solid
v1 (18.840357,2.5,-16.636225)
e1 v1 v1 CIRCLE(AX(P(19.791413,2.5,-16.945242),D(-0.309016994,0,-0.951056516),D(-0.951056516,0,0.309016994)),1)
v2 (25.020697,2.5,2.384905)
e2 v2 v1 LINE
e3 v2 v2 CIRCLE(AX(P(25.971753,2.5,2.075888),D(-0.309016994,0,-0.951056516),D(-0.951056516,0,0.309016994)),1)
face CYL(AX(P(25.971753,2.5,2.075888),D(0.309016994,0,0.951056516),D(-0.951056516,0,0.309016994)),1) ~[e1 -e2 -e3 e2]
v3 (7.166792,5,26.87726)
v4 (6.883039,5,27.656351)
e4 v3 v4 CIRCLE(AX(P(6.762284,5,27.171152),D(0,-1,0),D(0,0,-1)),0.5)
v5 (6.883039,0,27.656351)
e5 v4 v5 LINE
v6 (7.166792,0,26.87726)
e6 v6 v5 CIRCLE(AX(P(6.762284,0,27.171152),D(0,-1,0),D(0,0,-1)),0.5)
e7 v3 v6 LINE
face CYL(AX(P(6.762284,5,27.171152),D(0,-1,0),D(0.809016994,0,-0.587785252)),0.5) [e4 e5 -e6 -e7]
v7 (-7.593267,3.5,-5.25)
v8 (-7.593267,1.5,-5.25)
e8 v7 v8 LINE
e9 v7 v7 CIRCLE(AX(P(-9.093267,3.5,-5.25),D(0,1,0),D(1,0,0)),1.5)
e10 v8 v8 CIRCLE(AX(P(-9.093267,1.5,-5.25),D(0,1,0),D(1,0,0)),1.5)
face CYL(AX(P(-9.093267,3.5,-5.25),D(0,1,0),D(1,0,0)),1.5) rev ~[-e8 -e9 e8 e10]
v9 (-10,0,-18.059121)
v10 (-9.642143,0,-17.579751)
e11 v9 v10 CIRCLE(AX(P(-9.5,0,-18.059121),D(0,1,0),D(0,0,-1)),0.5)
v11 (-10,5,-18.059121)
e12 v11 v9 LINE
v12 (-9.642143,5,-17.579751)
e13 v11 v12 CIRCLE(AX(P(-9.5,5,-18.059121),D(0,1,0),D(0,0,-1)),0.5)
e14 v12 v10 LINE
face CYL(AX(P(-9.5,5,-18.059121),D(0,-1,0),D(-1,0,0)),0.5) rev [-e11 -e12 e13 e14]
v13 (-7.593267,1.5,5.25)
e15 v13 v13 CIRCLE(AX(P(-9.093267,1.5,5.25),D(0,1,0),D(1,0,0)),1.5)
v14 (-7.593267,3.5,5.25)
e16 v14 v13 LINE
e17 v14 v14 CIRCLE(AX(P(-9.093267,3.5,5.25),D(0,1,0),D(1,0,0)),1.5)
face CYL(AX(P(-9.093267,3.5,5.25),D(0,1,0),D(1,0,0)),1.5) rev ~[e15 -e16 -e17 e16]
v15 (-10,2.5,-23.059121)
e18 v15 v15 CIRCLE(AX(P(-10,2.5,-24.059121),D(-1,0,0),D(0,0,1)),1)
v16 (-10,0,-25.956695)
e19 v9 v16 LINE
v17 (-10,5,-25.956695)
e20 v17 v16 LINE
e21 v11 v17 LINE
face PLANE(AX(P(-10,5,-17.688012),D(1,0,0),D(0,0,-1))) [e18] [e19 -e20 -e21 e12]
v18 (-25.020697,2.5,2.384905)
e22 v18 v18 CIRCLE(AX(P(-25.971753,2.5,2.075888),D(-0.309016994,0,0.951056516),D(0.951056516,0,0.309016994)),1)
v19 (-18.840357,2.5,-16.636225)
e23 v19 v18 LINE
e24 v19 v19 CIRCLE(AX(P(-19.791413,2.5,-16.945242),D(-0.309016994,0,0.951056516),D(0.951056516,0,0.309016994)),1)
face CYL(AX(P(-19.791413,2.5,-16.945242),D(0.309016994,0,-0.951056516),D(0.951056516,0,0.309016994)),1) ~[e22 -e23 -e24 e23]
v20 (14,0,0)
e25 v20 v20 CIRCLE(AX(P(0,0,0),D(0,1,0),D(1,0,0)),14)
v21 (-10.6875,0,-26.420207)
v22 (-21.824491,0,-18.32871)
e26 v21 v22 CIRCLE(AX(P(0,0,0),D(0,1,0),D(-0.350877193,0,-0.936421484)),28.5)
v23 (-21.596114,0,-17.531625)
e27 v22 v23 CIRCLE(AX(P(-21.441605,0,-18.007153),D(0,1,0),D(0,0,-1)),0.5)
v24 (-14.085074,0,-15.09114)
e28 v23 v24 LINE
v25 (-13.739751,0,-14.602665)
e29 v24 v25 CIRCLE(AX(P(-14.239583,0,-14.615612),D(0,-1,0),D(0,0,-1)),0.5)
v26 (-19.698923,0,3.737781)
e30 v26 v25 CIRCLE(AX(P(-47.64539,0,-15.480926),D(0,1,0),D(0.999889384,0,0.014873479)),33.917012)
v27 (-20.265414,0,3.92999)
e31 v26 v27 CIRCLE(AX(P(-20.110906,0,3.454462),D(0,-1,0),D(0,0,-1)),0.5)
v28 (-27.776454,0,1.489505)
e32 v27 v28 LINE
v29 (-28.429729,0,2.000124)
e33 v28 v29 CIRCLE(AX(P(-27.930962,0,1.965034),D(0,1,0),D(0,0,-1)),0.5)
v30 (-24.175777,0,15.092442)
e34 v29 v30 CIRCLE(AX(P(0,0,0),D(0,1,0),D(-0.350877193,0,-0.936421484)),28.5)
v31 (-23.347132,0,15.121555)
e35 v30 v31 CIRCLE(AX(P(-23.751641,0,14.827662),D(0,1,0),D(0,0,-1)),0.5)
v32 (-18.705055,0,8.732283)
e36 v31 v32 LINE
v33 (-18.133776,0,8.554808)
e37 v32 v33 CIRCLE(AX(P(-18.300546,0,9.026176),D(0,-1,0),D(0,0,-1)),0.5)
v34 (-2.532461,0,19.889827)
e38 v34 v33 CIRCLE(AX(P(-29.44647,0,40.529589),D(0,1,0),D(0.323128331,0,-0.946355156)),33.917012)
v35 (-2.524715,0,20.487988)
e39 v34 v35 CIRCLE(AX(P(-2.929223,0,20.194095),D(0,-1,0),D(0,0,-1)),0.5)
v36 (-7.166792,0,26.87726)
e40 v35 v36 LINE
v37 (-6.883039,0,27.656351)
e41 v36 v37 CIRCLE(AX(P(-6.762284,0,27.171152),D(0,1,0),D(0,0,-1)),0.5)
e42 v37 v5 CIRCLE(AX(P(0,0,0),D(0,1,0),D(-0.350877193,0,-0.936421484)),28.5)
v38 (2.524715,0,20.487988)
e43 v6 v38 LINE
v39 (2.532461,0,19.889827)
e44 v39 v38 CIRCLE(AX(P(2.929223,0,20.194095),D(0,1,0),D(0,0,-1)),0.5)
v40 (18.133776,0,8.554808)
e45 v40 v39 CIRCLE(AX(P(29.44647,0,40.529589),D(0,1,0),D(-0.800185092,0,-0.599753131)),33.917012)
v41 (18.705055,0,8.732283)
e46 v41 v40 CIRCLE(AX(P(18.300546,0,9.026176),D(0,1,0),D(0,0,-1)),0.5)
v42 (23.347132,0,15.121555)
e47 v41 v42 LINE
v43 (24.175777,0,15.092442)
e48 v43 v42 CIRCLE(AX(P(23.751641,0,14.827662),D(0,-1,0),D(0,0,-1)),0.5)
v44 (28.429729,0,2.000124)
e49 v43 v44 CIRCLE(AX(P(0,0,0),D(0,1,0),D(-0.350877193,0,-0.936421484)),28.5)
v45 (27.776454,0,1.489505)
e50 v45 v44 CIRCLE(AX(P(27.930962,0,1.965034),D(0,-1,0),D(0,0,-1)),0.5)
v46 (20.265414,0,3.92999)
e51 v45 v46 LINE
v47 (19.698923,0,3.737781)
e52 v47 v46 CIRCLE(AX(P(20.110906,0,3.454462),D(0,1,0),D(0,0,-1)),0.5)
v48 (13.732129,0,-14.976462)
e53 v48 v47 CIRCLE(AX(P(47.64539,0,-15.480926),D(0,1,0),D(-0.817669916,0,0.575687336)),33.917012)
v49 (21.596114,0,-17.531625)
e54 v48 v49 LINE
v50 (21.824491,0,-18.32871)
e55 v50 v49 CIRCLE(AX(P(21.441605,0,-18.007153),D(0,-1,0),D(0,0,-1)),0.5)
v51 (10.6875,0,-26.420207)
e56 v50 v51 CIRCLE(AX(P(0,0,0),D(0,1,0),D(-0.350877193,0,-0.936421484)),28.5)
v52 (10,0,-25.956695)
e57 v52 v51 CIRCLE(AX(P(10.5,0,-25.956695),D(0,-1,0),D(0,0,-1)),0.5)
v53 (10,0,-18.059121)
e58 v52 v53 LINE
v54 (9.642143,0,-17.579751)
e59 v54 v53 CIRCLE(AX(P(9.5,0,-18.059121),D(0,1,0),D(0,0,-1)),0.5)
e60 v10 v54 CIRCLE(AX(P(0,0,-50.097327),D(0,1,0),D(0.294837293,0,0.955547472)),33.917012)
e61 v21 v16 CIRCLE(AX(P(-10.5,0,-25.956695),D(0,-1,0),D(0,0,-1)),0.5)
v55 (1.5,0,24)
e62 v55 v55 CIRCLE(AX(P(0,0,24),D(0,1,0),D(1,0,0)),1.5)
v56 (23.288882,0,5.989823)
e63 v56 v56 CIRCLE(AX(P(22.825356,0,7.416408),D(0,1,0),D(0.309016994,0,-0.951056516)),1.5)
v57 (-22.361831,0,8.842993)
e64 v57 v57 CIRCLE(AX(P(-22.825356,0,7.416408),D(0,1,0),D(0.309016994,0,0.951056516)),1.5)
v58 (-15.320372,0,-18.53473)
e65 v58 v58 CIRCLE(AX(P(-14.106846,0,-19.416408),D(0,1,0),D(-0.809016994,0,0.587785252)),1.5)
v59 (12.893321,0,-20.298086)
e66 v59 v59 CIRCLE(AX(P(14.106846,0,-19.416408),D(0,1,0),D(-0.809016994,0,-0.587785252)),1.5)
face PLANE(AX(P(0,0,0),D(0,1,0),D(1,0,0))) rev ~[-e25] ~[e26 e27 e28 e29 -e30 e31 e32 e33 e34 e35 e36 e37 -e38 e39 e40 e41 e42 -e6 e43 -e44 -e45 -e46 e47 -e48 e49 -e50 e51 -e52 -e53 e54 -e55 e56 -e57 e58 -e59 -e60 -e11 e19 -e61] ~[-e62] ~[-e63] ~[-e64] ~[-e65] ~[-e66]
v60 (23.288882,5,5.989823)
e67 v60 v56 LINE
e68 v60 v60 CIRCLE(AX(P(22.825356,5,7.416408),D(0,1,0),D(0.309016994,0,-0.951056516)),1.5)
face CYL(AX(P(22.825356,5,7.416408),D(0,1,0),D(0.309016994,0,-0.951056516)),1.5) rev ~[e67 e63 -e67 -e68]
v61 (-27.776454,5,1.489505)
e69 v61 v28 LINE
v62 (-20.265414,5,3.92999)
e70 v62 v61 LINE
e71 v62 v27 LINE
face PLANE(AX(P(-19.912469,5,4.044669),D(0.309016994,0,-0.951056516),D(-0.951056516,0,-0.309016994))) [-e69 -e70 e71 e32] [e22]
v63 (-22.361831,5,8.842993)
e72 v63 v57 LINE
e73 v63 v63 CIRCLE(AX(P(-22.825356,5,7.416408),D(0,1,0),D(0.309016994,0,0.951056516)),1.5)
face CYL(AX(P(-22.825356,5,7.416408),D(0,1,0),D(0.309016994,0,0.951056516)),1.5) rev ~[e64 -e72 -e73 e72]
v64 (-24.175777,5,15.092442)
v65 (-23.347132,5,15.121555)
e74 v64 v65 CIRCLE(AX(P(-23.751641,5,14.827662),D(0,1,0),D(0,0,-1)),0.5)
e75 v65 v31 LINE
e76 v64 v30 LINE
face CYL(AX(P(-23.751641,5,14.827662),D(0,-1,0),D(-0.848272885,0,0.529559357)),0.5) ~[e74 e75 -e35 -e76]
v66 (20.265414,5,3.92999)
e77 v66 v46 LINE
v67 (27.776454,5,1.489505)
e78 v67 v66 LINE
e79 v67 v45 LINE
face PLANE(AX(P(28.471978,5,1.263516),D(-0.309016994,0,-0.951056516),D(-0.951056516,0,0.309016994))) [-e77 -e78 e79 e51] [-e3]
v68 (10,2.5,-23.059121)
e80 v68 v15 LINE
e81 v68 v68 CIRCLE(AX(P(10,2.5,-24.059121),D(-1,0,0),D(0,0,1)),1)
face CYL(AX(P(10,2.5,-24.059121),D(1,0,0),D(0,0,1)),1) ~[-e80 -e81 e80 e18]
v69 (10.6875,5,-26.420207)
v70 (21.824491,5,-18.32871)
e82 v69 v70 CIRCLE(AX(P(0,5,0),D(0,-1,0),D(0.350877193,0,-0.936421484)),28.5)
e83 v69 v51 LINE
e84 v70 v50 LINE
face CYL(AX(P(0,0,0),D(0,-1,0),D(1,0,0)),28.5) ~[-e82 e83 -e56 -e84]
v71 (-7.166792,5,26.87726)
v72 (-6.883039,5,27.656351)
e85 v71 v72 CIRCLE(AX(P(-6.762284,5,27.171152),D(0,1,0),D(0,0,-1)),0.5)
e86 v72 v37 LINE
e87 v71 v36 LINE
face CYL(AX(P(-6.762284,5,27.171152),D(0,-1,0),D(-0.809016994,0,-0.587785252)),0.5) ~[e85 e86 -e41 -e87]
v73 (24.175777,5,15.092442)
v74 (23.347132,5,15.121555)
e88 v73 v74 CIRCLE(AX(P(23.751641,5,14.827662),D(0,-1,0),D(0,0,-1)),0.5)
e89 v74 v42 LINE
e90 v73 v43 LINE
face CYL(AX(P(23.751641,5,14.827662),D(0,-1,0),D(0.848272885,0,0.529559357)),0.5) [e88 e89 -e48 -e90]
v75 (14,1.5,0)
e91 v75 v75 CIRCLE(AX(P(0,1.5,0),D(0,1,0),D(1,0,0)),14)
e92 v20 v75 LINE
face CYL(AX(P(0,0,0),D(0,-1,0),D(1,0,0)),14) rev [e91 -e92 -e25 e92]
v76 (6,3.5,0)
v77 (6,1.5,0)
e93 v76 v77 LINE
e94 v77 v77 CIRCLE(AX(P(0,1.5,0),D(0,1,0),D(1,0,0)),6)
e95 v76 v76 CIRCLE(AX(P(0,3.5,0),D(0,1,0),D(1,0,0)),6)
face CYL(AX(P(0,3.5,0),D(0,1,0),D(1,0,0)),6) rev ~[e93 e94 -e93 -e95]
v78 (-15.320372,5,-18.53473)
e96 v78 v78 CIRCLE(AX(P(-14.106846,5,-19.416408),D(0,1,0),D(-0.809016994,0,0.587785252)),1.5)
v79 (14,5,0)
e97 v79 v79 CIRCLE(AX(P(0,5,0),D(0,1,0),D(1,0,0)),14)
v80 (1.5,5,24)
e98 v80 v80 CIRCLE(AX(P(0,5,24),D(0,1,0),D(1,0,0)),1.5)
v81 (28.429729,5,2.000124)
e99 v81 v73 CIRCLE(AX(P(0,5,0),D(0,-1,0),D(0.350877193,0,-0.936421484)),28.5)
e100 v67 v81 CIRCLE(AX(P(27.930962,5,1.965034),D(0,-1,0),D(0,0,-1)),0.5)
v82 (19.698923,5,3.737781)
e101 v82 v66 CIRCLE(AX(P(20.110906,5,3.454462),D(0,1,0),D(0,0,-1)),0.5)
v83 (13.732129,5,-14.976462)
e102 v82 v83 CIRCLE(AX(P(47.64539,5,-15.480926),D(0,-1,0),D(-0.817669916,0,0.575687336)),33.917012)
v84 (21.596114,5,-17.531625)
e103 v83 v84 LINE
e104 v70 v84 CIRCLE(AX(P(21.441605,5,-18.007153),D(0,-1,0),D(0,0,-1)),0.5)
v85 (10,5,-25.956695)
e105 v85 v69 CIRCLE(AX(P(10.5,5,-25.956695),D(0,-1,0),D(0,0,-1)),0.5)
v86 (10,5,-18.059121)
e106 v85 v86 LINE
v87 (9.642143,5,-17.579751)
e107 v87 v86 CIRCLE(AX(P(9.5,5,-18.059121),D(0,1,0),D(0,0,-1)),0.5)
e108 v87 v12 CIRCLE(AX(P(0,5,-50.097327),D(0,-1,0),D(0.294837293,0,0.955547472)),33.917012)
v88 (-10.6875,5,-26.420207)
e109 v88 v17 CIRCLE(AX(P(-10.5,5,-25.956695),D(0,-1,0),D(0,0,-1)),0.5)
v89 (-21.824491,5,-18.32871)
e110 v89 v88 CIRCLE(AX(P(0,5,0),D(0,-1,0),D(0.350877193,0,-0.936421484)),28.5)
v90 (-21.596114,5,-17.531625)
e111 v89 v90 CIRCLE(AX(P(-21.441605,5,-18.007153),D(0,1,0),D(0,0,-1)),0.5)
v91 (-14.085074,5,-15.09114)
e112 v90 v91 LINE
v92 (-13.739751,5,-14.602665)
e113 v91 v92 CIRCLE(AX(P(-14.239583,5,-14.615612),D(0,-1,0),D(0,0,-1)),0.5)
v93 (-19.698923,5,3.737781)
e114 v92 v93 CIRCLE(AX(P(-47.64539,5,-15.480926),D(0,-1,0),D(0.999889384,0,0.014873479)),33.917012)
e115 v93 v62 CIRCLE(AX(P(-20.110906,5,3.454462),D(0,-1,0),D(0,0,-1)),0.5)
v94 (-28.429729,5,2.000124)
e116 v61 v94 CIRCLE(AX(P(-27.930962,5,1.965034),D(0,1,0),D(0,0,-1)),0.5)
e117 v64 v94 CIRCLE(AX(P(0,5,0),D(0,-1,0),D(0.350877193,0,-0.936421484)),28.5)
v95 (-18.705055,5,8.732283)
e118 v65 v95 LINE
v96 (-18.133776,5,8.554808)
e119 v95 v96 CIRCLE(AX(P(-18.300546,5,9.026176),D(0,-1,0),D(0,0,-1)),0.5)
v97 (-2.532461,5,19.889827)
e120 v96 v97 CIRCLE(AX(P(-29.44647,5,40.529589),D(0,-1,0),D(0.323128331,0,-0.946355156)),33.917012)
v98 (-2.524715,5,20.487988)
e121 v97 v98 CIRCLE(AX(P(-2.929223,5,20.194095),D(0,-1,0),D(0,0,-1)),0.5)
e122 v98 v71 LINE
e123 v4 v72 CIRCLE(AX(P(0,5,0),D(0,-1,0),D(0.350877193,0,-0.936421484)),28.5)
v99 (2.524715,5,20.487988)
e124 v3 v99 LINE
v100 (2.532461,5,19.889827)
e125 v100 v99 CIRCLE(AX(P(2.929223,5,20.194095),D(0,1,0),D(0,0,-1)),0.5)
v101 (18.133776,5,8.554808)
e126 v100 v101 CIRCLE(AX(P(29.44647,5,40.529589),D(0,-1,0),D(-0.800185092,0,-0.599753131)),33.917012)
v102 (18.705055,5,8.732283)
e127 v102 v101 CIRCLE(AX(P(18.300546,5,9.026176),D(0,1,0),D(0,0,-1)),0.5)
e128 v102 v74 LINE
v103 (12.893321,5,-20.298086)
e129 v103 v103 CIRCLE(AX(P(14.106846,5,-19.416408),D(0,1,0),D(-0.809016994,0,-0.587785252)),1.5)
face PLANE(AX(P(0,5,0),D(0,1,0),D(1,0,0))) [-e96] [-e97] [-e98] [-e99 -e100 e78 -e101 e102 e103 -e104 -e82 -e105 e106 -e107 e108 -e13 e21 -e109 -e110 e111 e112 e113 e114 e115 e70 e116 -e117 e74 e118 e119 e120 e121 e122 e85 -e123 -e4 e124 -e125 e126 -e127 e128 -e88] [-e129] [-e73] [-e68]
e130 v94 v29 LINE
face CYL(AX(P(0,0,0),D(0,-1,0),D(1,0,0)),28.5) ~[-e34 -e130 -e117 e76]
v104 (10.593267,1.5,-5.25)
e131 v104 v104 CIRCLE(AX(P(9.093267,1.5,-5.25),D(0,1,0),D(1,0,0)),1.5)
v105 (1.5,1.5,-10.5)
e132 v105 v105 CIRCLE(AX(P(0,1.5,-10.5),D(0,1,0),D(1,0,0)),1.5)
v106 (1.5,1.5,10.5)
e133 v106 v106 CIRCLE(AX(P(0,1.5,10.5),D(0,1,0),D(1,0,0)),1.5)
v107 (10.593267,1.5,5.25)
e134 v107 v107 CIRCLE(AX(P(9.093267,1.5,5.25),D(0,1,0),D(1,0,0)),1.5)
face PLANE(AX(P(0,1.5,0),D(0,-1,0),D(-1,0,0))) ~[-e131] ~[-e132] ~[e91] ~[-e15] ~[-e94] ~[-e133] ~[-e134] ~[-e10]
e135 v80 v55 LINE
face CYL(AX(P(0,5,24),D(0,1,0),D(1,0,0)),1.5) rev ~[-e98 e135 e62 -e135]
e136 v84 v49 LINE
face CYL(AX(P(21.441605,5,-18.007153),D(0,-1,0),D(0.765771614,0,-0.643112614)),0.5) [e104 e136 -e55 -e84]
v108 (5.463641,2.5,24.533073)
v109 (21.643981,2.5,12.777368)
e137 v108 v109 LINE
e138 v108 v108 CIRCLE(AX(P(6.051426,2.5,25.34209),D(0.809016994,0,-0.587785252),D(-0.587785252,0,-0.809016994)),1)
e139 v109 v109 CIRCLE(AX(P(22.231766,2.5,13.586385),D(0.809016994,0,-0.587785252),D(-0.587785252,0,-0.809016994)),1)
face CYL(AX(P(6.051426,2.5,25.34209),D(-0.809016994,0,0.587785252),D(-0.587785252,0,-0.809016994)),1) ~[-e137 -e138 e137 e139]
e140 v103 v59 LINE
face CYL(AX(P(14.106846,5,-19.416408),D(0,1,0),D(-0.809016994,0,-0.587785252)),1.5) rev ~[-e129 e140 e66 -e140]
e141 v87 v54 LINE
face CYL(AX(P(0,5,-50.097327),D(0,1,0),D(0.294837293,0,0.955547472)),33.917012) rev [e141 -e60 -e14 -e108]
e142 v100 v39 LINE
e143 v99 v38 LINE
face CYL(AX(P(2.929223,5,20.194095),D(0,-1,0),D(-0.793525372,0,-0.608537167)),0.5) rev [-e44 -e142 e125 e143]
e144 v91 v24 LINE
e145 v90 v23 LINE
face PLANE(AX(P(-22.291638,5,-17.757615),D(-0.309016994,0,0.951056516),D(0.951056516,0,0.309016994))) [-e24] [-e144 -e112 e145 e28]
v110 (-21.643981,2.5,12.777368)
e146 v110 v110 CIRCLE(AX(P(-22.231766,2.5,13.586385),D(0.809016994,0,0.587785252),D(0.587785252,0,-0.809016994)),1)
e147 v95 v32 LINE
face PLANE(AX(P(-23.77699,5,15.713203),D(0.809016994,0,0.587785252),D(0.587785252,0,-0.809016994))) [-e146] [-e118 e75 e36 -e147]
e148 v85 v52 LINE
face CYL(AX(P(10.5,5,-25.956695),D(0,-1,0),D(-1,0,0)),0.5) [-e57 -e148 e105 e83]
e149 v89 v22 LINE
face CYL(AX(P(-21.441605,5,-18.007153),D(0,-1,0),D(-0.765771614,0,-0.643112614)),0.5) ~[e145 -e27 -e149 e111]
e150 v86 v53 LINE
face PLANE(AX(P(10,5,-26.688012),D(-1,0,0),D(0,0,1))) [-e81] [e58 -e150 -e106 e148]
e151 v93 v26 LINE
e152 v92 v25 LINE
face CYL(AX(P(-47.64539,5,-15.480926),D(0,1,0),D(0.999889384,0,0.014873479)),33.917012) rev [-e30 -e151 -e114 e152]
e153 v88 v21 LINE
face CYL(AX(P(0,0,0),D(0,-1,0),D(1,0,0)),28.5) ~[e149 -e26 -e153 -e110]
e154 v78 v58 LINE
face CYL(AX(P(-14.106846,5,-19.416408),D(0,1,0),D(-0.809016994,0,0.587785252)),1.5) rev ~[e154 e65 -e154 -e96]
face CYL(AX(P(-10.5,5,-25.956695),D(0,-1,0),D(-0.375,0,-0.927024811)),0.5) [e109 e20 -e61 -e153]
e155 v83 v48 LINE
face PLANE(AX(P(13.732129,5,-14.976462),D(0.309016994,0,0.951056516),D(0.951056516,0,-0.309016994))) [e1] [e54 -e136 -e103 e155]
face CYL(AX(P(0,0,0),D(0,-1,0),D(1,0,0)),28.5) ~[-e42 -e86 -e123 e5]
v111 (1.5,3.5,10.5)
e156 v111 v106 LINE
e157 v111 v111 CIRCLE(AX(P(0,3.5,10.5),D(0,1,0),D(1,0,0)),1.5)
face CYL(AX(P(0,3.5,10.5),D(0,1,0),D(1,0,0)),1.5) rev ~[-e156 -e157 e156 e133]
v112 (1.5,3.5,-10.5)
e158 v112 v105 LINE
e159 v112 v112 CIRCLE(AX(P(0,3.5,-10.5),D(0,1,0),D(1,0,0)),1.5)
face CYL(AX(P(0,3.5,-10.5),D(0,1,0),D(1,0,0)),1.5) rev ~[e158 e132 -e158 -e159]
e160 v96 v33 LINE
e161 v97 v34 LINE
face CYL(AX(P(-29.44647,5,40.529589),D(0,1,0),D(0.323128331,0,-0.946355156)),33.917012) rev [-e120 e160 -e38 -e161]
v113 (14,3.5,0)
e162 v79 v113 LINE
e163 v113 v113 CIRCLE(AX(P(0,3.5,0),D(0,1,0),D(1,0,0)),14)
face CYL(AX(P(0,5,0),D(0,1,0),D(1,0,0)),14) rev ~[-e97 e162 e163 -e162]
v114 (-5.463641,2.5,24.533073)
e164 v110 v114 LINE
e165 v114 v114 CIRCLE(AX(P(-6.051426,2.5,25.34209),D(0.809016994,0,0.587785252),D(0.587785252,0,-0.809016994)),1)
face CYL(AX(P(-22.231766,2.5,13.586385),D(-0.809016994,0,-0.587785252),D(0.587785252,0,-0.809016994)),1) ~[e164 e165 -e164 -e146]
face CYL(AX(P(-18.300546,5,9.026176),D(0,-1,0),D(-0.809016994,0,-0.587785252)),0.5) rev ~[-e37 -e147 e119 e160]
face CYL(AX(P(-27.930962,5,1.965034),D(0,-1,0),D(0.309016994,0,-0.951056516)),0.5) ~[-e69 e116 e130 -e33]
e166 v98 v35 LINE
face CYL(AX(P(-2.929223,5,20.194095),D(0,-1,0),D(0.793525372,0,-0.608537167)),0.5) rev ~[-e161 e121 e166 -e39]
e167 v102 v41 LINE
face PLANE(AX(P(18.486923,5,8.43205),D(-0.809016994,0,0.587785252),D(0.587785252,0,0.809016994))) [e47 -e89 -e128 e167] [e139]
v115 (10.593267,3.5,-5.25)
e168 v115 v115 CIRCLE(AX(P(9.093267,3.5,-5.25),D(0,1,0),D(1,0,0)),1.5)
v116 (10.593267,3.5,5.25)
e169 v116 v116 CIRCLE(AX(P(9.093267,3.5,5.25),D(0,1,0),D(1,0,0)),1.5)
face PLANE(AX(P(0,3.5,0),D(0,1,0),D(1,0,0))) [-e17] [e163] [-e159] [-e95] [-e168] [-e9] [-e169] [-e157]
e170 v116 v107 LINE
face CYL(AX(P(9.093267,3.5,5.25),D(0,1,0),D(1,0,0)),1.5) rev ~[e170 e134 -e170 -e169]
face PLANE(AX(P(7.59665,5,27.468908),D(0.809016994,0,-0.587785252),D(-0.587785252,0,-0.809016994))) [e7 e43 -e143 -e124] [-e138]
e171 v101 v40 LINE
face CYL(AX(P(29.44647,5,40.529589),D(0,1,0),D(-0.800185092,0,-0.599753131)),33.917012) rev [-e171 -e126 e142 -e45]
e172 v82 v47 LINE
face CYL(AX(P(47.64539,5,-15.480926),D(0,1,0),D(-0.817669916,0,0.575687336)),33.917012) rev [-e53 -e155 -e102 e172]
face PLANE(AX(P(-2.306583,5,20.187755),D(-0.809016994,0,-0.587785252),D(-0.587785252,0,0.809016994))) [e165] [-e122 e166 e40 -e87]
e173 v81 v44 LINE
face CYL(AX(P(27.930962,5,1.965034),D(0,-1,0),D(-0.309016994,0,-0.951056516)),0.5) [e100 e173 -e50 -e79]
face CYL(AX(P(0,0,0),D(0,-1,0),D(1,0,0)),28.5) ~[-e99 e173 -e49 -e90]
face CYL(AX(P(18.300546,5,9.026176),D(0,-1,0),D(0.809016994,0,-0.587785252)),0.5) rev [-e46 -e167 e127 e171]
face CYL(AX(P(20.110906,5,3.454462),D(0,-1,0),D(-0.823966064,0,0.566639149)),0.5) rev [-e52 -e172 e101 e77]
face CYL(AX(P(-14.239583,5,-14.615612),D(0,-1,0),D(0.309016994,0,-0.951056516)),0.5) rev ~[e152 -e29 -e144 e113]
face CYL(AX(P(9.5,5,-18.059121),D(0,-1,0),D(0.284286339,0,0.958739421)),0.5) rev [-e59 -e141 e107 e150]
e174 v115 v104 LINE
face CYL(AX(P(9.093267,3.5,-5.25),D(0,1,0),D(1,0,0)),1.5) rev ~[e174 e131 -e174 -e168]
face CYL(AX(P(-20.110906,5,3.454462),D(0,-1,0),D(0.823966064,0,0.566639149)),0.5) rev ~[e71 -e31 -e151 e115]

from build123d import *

# Parameters (mm, degrees)
SKETCH1_R           = 28.5
BOSS_EXTRUDE1_DEPTH = 5
CUT_EXTRUDE1_DEPTH  = 6
CIRPATTERN1_COUNT   = 5
SKETCH3_R           = 14
CUT_EXTRUDE2_DEPTH  = 1.5
SKETCH4_R           = 1.5
SKETCH4_R_2         = 6
CUT_EXTRUDE3_DEPTH  = 4.5
SKETCH5_R           = 1.5
CUT_EXTRUDE4_DEPTH  = 6
CIRPATTERN2_COUNT   = 5
FILLET1_R           = 0.5
SKETCH7_R           = 1
BOSS_EXTRUDE2_DEPTH = 20
CIRPATTERN3_COUNT   = 5


with BuildPart() as part:
    # Sketch1 → Boss-Extrude1 (new body)
    with BuildSketch(Plane(origin=(0, 0, 0), x_dir=(1, 0, 0), z_dir=(0, 1, 0))):
        Circle(SKETCH1_R)
    extrude(amount=BOSS_EXTRUDE1_DEPTH)

    # Sketch2 → Cut-Extrude1 (cut, through all)
    with BuildSketch(Plane(origin=(0, 5, 0), x_dir=(1, 0, 0), z_dir=(0, 1, 0))):
        with BuildLine():
            Line((10, 26.68801229), (10, 17.68801229))
            ThreePointArc((10, 17.68801229), (0, 16.180315356), (-10, 17.68801229))
            Line((-10, 17.68801229), (-10, 26.68801229))
            ThreePointArc((-10, 26.68801229), (0, 28.5), (10, 26.68801229))
        make_face()
    cut_extrude1 = extrude(amount=-CUT_EXTRUDE1_DEPTH, mode=Mode.SUBTRACT)

    # CirPattern1: Cut-Extrude1 ×5 about axis
    cirpattern1_axis = Axis((0, 0, 0), (0, 1, 0))
    for i in range(1, CIRPATTERN1_COUNT):
        add(cut_extrude1.rotate(cirpattern1_axis, i * 360 / CIRPATTERN1_COUNT), mode=Mode.SUBTRACT)

    # Sketch3 → Cut-Extrude2 (cut)
    with BuildSketch(Plane(origin=(0, 5, 0), x_dir=(1, 0, 0), z_dir=(0, 1, 0))):
        Circle(SKETCH3_R)
    cut_extrude2 = extrude(amount=-CUT_EXTRUDE2_DEPTH, mode=Mode.SUBTRACT)

    # Mirror1: Cut-Extrude2 across plane
    add(cut_extrude2.mirror(Plane.ZX.offset(2.5)), mode=Mode.SUBTRACT)

    # Sketch4 → Cut-Extrude3 (cut, through all)
    with BuildSketch(Plane(origin=(0, 3.5, 0), x_dir=(1, 0, 0), z_dir=(0, 1, 0))):
        with Locations((0, 10.5)):
            Circle(SKETCH4_R)
        with Locations((9.09326674, 5.25)):
            Circle(SKETCH4_R)
        with Locations((9.09326674, -5.25)):
            Circle(SKETCH4_R)
        with Locations((0, -10.5)):
            Circle(SKETCH4_R)
        with Locations((-9.09326674, -5.25)):
            Circle(SKETCH4_R)
        with Locations((-9.09326674, 5.25)):
            Circle(SKETCH4_R)
        Circle(SKETCH4_R_2)
    extrude(amount=-CUT_EXTRUDE3_DEPTH, mode=Mode.SUBTRACT)

    # Sketch5 → Cut-Extrude4 (cut, through all)
    with BuildSketch(Plane(origin=(0, 5, 0), x_dir=(1, 0, 0), z_dir=(0, 1, 0))):
        with Locations((0, -24)):
            Circle(SKETCH5_R)
    cut_extrude4 = extrude(amount=-CUT_EXTRUDE4_DEPTH, mode=Mode.SUBTRACT)

    # CirPattern2: Cut-Extrude4 ×5 about axis
    cirpattern2_axis = Axis((0, 0, 0), (0, 1, 0))
    for i in range(1, CIRPATTERN2_COUNT):
        add(cut_extrude4.rotate(cirpattern2_axis, i * 360 / CIRPATTERN2_COUNT), mode=Mode.SUBTRACT)

    # Fillet1
    fillet1_edges = [part.edges().sort_by_distance(p)[0] for p in [
        (-10, 2.5, -26.68801229),
        (10, 2.5, -26.68801229),
        (10, 2.5, -17.68801229),
        (-10, 2.5, -17.68801229),
        (22.291638052, 2.5, -17.757614507),
        (28.471977939, 2.5, 1.263515819),
        (19.912469293, 2.5, 4.044668769),
        (23.776989981, 2.5, 15.713202966),
        (7.596650093, 2.5, 27.468908012),
        (2.306582823, 2.5, 20.187755062),
        (18.48692271, 2.5, 8.432050017),
        (-7.596650093, 2.5, 27.468908012),
        (-23.776989981, 2.5, 15.713202966),
        (-18.48692271, 2.5, 8.432050017),
        (-2.306582823, 2.5, 20.187755062),
        (-28.471977939, 2.5, 1.263515819),
        (-22.291638052, 2.5, -17.757614507),
        (-13.732129405, 2.5, -14.976461557),
        (-19.912469293, 2.5, 4.044668769),
    ]]
    fillet(fillet1_edges, radius=FILLET1_R)

    # Sketch7 → Boss-Extrude2 (add)
    with BuildSketch(Plane(origin=(-8.090169944, 0, -5.877852523), x_dir=(0.587785252, 0, -0.809016994), z_dir=(0.809016994, 0, 0.587785252))):
        with Locations((-24.059120617, 2.5)):
            Circle(SKETCH7_R)
    boss_extrude2 = extrude(amount=BOSS_EXTRUDE2_DEPTH)

    # CirPattern3: Boss-Extrude2 ×5 about axis
    cirpattern3_axis = Axis((0, 3.5, 0), (0, 1, 0))
    for i in range(1, CIRPATTERN3_COUNT):
        add(boss_extrude2.rotate(cirpattern3_axis, i * 360 / CIRPATTERN3_COUNT))


solid = part.part
